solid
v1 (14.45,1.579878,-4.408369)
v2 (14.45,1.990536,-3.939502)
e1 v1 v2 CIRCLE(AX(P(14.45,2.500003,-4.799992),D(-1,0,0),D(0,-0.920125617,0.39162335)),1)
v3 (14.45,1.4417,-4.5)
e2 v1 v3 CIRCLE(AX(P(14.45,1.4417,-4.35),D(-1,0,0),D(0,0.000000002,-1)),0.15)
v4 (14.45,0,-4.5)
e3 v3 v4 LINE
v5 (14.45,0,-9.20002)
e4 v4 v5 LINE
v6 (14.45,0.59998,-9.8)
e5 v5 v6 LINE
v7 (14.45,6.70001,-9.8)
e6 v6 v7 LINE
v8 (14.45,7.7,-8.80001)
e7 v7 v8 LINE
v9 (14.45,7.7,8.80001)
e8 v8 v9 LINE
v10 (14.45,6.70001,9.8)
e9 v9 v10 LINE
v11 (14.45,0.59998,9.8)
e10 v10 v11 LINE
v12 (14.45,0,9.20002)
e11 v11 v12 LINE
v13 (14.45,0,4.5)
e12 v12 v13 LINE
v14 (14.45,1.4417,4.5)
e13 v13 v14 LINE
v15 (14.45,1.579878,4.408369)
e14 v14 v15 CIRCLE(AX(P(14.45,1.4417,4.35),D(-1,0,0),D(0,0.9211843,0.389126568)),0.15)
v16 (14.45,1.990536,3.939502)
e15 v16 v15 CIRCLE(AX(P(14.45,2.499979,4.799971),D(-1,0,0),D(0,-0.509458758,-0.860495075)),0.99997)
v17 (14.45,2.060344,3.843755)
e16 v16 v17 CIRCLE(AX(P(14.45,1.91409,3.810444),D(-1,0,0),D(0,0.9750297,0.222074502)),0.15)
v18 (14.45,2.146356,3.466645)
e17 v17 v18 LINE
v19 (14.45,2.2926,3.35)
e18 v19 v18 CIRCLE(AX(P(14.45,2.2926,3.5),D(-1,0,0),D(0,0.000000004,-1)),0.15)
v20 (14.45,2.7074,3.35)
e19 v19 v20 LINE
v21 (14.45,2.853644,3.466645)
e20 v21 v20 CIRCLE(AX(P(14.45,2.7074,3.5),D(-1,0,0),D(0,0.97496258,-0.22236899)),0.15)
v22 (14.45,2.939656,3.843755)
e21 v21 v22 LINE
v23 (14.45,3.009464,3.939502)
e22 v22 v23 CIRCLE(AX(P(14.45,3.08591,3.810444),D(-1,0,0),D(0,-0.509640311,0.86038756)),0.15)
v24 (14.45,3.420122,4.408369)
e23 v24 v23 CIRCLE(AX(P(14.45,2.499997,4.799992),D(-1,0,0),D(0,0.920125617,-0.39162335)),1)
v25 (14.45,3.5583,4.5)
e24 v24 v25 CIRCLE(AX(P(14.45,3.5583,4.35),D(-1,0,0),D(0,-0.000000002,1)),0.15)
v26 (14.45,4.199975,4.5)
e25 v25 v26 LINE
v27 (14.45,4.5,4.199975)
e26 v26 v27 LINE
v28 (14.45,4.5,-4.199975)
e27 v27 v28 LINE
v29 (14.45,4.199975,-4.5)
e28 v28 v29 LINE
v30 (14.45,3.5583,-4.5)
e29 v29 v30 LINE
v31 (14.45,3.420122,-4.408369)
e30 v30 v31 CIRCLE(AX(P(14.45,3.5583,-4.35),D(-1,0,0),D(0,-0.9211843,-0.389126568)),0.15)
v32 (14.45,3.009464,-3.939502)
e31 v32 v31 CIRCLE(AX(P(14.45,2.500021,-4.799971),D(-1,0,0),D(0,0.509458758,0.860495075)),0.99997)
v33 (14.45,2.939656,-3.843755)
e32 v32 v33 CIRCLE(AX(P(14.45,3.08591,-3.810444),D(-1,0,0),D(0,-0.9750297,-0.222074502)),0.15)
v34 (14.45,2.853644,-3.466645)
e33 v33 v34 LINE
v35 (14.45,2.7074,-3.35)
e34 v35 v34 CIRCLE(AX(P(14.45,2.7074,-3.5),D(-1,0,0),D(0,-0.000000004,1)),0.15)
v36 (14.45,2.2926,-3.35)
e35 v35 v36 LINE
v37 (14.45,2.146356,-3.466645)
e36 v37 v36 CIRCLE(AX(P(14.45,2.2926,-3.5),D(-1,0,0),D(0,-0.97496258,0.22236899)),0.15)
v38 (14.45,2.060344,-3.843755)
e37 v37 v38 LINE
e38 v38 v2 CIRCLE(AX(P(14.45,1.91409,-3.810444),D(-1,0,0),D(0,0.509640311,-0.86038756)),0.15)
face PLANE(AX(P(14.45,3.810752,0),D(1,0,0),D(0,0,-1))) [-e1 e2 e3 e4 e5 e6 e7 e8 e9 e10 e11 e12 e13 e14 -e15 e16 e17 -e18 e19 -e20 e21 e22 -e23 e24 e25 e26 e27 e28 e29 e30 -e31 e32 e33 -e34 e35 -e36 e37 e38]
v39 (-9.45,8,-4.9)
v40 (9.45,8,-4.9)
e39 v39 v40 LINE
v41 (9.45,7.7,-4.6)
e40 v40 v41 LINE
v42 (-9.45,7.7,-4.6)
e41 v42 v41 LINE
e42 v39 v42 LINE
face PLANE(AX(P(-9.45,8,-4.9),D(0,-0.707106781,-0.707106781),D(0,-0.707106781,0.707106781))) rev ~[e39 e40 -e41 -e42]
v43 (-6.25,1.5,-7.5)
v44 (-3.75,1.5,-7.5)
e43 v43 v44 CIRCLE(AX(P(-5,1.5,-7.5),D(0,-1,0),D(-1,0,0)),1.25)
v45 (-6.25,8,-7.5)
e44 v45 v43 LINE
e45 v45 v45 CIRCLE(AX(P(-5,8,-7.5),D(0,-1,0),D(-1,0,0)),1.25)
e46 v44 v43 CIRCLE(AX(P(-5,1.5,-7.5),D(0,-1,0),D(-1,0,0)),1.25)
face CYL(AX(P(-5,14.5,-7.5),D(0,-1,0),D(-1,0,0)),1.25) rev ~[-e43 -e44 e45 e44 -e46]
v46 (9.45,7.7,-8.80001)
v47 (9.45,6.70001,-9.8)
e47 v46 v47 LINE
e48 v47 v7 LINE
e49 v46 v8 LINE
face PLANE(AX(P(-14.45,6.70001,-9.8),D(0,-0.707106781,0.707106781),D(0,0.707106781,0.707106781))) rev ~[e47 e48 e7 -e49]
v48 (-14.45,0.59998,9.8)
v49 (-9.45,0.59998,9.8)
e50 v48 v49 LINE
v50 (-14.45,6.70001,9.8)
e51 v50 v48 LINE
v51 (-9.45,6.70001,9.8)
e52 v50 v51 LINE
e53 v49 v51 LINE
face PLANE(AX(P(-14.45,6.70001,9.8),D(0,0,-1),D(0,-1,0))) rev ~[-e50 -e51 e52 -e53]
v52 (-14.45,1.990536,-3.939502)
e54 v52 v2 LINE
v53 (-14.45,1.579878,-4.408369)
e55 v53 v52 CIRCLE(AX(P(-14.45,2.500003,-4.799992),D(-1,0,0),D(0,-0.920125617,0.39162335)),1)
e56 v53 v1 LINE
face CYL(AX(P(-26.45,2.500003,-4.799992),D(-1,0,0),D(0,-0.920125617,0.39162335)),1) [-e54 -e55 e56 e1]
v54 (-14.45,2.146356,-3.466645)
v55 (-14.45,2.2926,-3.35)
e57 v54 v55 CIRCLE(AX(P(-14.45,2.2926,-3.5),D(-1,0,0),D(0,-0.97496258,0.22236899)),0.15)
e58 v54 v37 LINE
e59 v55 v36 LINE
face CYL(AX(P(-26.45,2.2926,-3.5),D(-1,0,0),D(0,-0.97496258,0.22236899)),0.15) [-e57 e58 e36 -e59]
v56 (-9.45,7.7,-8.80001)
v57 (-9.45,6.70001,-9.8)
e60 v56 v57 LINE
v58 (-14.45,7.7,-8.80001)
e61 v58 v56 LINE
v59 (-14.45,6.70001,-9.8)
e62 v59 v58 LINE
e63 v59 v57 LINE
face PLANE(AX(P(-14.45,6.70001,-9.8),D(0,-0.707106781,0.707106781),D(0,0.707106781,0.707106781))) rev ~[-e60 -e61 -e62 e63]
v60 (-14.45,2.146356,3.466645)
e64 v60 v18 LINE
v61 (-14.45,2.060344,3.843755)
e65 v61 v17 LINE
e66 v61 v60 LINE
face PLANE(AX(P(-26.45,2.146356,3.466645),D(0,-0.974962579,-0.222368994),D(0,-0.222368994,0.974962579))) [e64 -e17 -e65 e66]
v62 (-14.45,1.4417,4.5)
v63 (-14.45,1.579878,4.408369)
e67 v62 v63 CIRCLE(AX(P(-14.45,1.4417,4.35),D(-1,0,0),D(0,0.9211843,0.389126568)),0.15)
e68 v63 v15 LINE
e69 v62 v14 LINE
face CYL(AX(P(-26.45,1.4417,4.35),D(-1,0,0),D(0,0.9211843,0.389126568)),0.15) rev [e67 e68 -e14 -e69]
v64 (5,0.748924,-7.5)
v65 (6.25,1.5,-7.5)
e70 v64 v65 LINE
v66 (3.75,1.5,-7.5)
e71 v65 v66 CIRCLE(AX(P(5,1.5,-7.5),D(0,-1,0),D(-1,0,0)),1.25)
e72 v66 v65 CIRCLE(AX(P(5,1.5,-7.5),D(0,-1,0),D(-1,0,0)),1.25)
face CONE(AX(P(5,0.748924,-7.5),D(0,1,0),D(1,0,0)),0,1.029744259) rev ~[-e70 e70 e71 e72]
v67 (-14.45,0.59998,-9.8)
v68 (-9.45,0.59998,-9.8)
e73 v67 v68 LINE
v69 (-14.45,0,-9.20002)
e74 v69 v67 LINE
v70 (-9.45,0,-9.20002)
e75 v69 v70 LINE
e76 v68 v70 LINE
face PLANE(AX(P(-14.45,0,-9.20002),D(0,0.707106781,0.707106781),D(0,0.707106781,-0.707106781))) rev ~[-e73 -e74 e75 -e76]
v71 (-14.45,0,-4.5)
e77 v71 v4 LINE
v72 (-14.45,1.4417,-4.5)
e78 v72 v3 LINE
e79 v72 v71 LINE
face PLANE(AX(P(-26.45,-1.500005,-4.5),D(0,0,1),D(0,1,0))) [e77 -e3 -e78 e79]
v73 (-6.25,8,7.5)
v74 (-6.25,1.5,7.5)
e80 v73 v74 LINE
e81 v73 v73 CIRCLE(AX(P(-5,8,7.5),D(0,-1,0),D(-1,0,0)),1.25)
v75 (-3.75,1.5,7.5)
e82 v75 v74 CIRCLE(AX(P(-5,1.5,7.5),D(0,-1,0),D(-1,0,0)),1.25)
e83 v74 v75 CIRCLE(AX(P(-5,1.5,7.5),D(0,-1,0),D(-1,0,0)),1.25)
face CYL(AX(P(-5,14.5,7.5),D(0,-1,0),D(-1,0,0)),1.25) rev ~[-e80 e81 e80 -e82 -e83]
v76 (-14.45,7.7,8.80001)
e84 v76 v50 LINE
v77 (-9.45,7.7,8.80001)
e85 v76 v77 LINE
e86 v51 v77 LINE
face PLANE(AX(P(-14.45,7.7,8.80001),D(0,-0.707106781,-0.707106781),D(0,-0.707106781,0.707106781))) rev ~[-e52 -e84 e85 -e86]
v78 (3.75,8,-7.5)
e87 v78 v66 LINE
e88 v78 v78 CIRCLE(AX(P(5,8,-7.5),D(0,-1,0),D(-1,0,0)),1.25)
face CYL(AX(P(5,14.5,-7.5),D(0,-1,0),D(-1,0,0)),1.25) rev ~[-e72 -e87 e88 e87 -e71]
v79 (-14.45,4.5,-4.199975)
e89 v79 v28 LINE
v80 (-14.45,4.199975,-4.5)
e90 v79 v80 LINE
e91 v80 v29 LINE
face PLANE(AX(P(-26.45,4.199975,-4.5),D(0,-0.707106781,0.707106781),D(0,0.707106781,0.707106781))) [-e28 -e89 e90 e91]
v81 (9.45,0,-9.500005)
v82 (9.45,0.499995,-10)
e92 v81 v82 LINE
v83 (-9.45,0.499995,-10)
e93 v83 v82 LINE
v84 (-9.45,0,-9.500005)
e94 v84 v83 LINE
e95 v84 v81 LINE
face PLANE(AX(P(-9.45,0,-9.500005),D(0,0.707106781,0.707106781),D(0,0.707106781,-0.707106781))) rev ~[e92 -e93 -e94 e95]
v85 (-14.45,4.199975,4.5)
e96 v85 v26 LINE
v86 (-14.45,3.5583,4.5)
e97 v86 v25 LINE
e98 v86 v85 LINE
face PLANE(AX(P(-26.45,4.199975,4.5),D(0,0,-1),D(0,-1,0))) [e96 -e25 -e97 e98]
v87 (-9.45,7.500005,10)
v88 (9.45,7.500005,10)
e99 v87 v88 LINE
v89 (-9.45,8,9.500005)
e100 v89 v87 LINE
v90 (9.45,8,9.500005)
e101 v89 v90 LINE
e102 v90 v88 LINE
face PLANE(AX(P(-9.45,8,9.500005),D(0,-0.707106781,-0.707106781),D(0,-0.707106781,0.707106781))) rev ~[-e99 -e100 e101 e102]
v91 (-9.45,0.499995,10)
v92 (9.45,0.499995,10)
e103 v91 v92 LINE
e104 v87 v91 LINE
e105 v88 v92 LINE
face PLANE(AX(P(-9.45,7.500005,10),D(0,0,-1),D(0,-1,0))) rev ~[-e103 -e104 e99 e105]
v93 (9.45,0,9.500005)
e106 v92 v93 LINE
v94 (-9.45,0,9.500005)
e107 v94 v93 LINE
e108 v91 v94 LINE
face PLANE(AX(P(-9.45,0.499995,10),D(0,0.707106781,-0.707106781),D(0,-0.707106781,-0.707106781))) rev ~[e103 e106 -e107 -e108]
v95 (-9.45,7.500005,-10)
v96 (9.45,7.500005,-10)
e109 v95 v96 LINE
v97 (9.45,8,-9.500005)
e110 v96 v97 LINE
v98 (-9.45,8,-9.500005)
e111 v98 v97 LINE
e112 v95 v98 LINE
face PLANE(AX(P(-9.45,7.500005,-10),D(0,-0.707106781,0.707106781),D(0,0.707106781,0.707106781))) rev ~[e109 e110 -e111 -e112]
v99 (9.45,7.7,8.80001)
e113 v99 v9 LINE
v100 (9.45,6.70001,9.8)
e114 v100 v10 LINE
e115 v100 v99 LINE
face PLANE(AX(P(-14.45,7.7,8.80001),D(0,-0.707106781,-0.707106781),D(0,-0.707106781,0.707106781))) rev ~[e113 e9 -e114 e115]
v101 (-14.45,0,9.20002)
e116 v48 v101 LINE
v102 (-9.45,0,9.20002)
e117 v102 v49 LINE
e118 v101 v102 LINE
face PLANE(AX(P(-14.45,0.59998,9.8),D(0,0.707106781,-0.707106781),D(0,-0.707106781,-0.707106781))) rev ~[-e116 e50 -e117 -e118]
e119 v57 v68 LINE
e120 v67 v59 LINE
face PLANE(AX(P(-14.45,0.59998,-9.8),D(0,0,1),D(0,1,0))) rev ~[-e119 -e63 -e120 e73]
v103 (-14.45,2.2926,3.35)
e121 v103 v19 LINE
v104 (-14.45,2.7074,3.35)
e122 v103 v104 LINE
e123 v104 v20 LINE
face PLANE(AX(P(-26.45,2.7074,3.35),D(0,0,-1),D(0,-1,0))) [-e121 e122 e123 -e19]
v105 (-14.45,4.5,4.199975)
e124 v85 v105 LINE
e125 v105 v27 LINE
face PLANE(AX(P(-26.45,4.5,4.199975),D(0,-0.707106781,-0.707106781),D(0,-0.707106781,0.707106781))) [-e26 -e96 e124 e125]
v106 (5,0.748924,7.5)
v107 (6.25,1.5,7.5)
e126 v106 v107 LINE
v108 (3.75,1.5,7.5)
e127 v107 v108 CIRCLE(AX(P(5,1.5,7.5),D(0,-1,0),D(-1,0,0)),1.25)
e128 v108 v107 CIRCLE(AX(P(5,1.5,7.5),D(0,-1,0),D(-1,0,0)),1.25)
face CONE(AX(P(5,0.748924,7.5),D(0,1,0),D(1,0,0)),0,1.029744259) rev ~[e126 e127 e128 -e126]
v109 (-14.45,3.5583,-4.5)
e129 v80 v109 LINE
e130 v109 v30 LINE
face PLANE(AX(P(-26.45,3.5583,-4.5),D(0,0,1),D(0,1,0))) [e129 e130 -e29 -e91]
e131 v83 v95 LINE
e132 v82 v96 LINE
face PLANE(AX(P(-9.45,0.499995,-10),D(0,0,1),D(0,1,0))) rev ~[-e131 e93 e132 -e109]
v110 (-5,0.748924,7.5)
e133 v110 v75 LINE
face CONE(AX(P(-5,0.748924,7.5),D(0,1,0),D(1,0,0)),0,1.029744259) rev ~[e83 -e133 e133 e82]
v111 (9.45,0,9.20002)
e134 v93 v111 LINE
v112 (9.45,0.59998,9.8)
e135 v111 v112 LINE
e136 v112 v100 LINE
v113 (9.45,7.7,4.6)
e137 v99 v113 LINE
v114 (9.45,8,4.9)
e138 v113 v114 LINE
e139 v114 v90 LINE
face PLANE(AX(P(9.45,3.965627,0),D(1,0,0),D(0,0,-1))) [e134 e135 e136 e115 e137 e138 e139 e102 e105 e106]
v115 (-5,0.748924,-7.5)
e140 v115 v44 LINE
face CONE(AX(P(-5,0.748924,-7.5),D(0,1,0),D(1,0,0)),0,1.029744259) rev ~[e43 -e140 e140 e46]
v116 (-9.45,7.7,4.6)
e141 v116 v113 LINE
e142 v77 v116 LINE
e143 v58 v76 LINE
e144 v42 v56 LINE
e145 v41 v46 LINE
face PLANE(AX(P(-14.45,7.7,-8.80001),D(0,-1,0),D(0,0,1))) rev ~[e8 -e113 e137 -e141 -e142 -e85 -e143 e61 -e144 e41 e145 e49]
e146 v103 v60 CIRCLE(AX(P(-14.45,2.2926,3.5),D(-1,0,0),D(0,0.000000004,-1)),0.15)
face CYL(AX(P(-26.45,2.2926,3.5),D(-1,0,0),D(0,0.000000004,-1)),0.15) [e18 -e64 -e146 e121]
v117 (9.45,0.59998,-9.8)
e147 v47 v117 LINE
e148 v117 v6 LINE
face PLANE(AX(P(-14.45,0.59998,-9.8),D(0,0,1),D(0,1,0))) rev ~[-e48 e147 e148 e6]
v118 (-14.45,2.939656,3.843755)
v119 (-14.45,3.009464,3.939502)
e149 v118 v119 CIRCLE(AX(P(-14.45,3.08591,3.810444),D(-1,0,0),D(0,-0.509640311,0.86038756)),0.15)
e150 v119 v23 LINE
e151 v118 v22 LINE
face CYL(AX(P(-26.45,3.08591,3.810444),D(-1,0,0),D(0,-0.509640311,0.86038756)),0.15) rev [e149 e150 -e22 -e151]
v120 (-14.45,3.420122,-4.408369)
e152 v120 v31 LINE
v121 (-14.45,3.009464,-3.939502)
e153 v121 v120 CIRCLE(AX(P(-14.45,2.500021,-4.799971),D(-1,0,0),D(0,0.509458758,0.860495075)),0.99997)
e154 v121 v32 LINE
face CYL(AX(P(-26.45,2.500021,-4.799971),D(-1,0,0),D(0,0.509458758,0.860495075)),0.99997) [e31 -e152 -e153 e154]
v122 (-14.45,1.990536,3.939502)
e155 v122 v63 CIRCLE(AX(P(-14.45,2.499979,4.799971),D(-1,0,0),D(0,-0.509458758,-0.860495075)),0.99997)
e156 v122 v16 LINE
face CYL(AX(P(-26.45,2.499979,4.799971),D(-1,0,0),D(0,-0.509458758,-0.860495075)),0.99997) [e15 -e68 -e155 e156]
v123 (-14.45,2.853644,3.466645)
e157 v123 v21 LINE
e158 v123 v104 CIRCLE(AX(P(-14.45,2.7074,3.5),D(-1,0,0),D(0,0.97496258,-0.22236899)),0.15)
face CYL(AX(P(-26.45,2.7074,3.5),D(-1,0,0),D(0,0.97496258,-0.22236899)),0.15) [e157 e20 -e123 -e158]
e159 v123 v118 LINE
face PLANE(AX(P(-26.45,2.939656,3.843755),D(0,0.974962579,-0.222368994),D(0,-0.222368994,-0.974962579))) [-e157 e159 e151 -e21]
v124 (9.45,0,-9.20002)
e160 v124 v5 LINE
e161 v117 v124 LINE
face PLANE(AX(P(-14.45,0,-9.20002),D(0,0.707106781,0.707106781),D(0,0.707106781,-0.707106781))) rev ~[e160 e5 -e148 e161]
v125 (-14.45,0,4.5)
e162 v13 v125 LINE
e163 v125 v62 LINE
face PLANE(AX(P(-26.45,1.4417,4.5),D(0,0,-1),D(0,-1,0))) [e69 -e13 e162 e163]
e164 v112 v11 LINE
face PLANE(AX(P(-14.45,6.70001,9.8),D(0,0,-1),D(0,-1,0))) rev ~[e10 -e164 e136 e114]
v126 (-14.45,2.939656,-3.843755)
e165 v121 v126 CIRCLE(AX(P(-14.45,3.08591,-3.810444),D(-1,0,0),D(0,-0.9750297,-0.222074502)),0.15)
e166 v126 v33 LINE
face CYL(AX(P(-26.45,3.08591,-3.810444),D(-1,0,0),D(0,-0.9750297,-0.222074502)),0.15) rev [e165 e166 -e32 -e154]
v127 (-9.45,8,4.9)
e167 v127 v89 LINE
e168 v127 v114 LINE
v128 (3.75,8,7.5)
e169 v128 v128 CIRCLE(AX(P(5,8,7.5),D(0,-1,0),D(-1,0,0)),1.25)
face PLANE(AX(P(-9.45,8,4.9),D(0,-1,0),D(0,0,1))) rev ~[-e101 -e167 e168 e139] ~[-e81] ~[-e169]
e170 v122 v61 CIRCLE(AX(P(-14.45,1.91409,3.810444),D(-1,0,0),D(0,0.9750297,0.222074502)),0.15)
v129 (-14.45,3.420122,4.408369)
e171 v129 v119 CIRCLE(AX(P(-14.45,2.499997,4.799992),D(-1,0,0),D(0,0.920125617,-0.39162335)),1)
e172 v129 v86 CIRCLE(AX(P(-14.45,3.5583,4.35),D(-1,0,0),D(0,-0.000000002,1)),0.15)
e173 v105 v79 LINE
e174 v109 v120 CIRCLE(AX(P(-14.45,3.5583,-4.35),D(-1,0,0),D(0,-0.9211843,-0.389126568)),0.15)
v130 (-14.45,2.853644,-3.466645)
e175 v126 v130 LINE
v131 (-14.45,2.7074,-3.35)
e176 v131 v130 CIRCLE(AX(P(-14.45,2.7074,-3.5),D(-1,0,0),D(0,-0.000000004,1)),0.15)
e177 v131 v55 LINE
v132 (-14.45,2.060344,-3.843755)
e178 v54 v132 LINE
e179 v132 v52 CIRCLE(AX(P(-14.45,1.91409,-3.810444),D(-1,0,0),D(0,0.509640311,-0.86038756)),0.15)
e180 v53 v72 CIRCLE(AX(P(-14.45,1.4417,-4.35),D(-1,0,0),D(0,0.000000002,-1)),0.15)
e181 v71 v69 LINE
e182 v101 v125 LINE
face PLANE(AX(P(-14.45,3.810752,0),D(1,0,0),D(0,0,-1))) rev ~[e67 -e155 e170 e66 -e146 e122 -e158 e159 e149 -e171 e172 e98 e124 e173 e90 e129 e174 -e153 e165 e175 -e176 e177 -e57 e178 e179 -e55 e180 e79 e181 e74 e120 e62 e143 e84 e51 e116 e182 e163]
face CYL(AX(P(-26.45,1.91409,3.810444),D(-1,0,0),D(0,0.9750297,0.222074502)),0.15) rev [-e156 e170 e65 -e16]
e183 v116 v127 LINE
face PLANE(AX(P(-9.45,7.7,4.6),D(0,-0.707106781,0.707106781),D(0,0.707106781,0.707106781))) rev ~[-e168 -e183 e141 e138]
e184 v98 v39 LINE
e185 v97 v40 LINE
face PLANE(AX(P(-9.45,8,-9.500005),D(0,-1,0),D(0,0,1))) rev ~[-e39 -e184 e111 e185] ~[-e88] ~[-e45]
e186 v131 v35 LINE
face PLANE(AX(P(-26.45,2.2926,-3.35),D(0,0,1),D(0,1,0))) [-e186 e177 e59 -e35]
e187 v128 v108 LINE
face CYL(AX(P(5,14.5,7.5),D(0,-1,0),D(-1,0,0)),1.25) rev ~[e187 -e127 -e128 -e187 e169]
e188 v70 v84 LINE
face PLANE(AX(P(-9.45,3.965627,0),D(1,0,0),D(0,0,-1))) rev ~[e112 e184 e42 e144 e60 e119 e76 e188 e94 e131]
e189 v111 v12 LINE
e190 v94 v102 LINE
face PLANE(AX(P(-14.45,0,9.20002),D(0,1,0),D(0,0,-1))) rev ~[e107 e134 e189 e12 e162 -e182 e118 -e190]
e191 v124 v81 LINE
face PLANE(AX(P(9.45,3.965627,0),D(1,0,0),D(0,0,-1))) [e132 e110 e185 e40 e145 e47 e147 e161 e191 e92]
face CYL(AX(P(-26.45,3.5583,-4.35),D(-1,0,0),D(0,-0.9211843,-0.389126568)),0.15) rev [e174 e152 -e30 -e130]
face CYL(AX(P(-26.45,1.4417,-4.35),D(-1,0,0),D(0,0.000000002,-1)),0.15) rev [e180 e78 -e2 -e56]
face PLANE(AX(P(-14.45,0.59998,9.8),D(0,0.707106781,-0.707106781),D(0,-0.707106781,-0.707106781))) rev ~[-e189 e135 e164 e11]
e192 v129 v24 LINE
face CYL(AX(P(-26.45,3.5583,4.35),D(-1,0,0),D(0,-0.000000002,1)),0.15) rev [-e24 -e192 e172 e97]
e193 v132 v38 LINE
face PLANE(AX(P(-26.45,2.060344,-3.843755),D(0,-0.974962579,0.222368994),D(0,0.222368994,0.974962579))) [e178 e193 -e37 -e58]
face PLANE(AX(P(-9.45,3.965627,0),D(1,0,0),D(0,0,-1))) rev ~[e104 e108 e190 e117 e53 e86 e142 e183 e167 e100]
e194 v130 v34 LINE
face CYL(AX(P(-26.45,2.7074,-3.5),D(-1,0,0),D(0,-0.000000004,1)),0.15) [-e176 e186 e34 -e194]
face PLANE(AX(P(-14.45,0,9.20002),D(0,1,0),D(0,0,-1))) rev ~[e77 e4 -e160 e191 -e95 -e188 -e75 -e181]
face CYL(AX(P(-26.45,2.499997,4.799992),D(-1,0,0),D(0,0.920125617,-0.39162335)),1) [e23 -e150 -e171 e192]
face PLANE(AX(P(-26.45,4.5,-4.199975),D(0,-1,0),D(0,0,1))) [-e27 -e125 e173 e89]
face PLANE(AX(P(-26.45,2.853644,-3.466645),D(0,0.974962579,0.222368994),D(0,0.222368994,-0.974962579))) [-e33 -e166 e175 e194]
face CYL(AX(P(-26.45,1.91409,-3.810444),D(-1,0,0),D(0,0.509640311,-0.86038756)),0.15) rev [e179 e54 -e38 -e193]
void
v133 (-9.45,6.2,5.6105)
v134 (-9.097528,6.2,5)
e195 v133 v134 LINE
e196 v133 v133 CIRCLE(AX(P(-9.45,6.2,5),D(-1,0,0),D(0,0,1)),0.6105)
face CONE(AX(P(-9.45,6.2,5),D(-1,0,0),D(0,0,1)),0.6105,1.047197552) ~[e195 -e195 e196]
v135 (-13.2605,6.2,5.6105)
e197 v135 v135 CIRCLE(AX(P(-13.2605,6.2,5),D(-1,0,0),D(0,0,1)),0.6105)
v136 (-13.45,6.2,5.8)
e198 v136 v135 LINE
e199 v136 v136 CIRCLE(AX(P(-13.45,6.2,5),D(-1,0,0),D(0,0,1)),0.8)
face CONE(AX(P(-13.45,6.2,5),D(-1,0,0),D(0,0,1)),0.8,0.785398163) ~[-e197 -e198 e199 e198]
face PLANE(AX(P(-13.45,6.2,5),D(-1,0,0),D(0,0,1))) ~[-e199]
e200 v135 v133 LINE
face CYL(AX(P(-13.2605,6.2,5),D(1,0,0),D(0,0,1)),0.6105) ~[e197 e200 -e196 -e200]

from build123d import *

# Parameters (mm, degrees)
EXTRUDE_1_DEPTH          = 9.45
EXTRUDE_1_DEPTH_BACK     = 9.45
EXTRUDE_2_DEPTH          = 14.45
EXTRUDE_2_DEPTH_BACK     = 14.45
CUT_EXTRUDE_1_DEPTH      = 24.45
CUT_EXTRUDE_1_DEPTH_BACK = 26.45
HOLE_WIZARD_M3_1_D       = 2.5
HOLE_WIZARD_M3_1_DEPTH   = 6.5
HOLE_WIZARD_M3_1_TIP     = 0.751075774


with BuildPart() as part:
    # 草图1 → 凸台-拉伸1 (new, two sides: drawn at the far end of the back side and taken through both)
    with BuildSketch(Plane(origin=(0, 0, 0), x_dir=(0, 0, -1), z_dir=(1, 0, 0)).offset(-EXTRUDE_1_DEPTH_BACK)):
        Polygon((-10, 7.500004795), (-10, 0.499995205), (-9.500004795, 0), (9.500004795, 0), (10, 0.499995205), (10, 7.500004795), (9.500004795, 8), (4.9, 8), (4.6, 7.7), (-4.6, 7.7), (-4.9, 8), (-9.500004795, 8), align=None)
    extrude(amount=EXTRUDE_1_DEPTH + EXTRUDE_1_DEPTH_BACK)

    # 草图2 → 凸台-拉伸2 (add, two sides: drawn at the far end of the back side and taken through both)
    with BuildSketch(Plane(origin=(0, 0, 0), x_dir=(0, 0, -1), z_dir=(1, 0, 0)).offset(-EXTRUDE_2_DEPTH_BACK)):
        Polygon((-9.8, 6.70000959), (-9.8, 0.599980104), (-9.200019896, 0), (9.200019896, 0), (9.8, 0.599980104), (9.8, 6.70000959), (8.80000959, 7.7), (-8.80000959, 7.7), align=None)
    extrude(amount=EXTRUDE_2_DEPTH + EXTRUDE_2_DEPTH_BACK)

    # 草图3 → 切除-拉伸1 (cut, two sides: drawn at the far end of the back side and taken through both)
    with BuildSketch(Plane(origin=(0, 0, 0), x_dir=(0, 0, -1), z_dir=(1, 0, 0)).offset(-CUT_EXTRUDE_1_DEPTH_BACK)):
        with BuildLine():
            Line((-4.5, 4.199974593), (-4.5, 3.5583))
            ThreePointArc((-4.5, 3.5583), (-4.475010695, 3.475400506), (-4.408368985, 3.420122355))
            ThreePointArc((-4.408368985, 3.420122355), (-4.141124334, 3.252255308), (-3.93950231, 3.009464023))
            ThreePointArc((-3.93950231, 3.009464023), (-3.898814145, 2.964704671), (-3.843755349, 2.939655613))
            Line((-3.843755349, 2.939655613), (-3.466644651, 2.853644387))
            ThreePointArc((-3.466644651, 2.853644387), (-3.382732565, 2.800932608), (-3.35, 2.7074))
            Line((-3.35, 2.7074), (-3.35, 2.2926))
            ThreePointArc((-3.35, 2.2926), (-3.382732565, 2.199067392), (-3.466644651, 2.146355613))
            Line((-3.466644651, 2.146355613), (-3.843755349, 2.060344387))
            ThreePointArc((-3.843755349, 2.060344387), (-3.898814145, 2.035295329), (-3.93950231, 1.990535977))
            ThreePointArc((-3.93950231, 1.990535977), (-4.141123452, 1.74774336), (-4.408368985, 1.579877645))
            ThreePointArc((-4.408368985, 1.579877645), (-4.475010695, 1.524599494), (-4.5, 1.4417))
            Line((-4.5, 1.4417), (-4.5, -1.500004795))
            Line((-4.5, -1.500004795), (-4.000004795, -2))
            Line((-4.000004795, -2), (1.4, -2))
            ThreePointArc((1.4, -2), (1.8, -1.8), (2.2, -2))
            Line((2.2, -2), (4.000004795, -2))
            Line((4.000004795, -2), (4.5, -1.500004795))
            Line((4.5, -1.500004795), (4.5, 1.4417))
            ThreePointArc((4.5, 1.4417), (4.475010695, 1.524599494), (4.408368985, 1.579877645))
            ThreePointArc((4.408368985, 1.579877645), (4.141124334, 1.747744692), (3.93950231, 1.990535977))
            ThreePointArc((3.93950231, 1.990535977), (3.898814145, 2.035295329), (3.843755349, 2.060344387))
            Line((3.843755349, 2.060344387), (3.466644651, 2.146355613))
            ThreePointArc((3.466644651, 2.146355613), (3.382732565, 2.199067392), (3.35, 2.2926))
            Line((3.35, 2.2926), (3.35, 2.7074))
            ThreePointArc((3.35, 2.7074), (3.382732565, 2.800932608), (3.466644651, 2.853644387))
            Line((3.466644651, 2.853644387), (3.843755349, 2.939655613))
            ThreePointArc((3.843755349, 2.939655613), (3.898814145, 2.964704671), (3.93950231, 3.009464023))
            ThreePointArc((3.93950231, 3.009464023), (4.141123452, 3.25225664), (4.408368985, 3.420122355))
            ThreePointArc((4.408368985, 3.420122355), (4.475010695, 3.475400506), (4.5, 3.5583))
            Line((4.5, 3.5583), (4.5, 4.199974593))
            Line((4.5, 4.199974593), (4.199974593, 4.5))
            Line((4.199974593, 4.5), (-4.199974593, 4.5))
            Line((-4.199974593, 4.5), (-4.5, 4.199974593))
        make_face()
    extrude(amount=CUT_EXTRUDE_1_DEPTH + CUT_EXTRUDE_1_DEPTH_BACK, mode=Mode.SUBTRACT)

    # 草图12 → 切除-旋转6 (revolve, cut)
    with BuildSketch(Plane.XY.offset(5)):
        Polygon((-13.45, 6.2), (-13.45, 7), (-13.2605, 6.8105), (-9.45, 6.8105), (-9.097527661, 6.2), align=None)
    revolve(axis=Axis((-9.097527661, 6.2, 5), (-1, 0, 0)), mode=Mode.SUBTRACT)

    # M3 螺纹孔1
    with Locations(Plane(origin=(0, 8, 0), x_dir=(1, 0, 0), z_dir=(0, 1, 0))):
        with Locations((5, -7.5), (-5, -7.5), (5, 7.5), (-5, 7.5)):
            Hole(HOLE_WIZARD_M3_1_D / 2, depth=HOLE_WIZARD_M3_1_DEPTH)
            with Locations((0, 0, -(HOLE_WIZARD_M3_1_DEPTH + HOLE_WIZARD_M3_1_TIP / 2))):  # 118° drill point
                Cone(0, HOLE_WIZARD_M3_1_D / 2, HOLE_WIZARD_M3_1_TIP, mode=Mode.SUBTRACT)


solid = part.part
